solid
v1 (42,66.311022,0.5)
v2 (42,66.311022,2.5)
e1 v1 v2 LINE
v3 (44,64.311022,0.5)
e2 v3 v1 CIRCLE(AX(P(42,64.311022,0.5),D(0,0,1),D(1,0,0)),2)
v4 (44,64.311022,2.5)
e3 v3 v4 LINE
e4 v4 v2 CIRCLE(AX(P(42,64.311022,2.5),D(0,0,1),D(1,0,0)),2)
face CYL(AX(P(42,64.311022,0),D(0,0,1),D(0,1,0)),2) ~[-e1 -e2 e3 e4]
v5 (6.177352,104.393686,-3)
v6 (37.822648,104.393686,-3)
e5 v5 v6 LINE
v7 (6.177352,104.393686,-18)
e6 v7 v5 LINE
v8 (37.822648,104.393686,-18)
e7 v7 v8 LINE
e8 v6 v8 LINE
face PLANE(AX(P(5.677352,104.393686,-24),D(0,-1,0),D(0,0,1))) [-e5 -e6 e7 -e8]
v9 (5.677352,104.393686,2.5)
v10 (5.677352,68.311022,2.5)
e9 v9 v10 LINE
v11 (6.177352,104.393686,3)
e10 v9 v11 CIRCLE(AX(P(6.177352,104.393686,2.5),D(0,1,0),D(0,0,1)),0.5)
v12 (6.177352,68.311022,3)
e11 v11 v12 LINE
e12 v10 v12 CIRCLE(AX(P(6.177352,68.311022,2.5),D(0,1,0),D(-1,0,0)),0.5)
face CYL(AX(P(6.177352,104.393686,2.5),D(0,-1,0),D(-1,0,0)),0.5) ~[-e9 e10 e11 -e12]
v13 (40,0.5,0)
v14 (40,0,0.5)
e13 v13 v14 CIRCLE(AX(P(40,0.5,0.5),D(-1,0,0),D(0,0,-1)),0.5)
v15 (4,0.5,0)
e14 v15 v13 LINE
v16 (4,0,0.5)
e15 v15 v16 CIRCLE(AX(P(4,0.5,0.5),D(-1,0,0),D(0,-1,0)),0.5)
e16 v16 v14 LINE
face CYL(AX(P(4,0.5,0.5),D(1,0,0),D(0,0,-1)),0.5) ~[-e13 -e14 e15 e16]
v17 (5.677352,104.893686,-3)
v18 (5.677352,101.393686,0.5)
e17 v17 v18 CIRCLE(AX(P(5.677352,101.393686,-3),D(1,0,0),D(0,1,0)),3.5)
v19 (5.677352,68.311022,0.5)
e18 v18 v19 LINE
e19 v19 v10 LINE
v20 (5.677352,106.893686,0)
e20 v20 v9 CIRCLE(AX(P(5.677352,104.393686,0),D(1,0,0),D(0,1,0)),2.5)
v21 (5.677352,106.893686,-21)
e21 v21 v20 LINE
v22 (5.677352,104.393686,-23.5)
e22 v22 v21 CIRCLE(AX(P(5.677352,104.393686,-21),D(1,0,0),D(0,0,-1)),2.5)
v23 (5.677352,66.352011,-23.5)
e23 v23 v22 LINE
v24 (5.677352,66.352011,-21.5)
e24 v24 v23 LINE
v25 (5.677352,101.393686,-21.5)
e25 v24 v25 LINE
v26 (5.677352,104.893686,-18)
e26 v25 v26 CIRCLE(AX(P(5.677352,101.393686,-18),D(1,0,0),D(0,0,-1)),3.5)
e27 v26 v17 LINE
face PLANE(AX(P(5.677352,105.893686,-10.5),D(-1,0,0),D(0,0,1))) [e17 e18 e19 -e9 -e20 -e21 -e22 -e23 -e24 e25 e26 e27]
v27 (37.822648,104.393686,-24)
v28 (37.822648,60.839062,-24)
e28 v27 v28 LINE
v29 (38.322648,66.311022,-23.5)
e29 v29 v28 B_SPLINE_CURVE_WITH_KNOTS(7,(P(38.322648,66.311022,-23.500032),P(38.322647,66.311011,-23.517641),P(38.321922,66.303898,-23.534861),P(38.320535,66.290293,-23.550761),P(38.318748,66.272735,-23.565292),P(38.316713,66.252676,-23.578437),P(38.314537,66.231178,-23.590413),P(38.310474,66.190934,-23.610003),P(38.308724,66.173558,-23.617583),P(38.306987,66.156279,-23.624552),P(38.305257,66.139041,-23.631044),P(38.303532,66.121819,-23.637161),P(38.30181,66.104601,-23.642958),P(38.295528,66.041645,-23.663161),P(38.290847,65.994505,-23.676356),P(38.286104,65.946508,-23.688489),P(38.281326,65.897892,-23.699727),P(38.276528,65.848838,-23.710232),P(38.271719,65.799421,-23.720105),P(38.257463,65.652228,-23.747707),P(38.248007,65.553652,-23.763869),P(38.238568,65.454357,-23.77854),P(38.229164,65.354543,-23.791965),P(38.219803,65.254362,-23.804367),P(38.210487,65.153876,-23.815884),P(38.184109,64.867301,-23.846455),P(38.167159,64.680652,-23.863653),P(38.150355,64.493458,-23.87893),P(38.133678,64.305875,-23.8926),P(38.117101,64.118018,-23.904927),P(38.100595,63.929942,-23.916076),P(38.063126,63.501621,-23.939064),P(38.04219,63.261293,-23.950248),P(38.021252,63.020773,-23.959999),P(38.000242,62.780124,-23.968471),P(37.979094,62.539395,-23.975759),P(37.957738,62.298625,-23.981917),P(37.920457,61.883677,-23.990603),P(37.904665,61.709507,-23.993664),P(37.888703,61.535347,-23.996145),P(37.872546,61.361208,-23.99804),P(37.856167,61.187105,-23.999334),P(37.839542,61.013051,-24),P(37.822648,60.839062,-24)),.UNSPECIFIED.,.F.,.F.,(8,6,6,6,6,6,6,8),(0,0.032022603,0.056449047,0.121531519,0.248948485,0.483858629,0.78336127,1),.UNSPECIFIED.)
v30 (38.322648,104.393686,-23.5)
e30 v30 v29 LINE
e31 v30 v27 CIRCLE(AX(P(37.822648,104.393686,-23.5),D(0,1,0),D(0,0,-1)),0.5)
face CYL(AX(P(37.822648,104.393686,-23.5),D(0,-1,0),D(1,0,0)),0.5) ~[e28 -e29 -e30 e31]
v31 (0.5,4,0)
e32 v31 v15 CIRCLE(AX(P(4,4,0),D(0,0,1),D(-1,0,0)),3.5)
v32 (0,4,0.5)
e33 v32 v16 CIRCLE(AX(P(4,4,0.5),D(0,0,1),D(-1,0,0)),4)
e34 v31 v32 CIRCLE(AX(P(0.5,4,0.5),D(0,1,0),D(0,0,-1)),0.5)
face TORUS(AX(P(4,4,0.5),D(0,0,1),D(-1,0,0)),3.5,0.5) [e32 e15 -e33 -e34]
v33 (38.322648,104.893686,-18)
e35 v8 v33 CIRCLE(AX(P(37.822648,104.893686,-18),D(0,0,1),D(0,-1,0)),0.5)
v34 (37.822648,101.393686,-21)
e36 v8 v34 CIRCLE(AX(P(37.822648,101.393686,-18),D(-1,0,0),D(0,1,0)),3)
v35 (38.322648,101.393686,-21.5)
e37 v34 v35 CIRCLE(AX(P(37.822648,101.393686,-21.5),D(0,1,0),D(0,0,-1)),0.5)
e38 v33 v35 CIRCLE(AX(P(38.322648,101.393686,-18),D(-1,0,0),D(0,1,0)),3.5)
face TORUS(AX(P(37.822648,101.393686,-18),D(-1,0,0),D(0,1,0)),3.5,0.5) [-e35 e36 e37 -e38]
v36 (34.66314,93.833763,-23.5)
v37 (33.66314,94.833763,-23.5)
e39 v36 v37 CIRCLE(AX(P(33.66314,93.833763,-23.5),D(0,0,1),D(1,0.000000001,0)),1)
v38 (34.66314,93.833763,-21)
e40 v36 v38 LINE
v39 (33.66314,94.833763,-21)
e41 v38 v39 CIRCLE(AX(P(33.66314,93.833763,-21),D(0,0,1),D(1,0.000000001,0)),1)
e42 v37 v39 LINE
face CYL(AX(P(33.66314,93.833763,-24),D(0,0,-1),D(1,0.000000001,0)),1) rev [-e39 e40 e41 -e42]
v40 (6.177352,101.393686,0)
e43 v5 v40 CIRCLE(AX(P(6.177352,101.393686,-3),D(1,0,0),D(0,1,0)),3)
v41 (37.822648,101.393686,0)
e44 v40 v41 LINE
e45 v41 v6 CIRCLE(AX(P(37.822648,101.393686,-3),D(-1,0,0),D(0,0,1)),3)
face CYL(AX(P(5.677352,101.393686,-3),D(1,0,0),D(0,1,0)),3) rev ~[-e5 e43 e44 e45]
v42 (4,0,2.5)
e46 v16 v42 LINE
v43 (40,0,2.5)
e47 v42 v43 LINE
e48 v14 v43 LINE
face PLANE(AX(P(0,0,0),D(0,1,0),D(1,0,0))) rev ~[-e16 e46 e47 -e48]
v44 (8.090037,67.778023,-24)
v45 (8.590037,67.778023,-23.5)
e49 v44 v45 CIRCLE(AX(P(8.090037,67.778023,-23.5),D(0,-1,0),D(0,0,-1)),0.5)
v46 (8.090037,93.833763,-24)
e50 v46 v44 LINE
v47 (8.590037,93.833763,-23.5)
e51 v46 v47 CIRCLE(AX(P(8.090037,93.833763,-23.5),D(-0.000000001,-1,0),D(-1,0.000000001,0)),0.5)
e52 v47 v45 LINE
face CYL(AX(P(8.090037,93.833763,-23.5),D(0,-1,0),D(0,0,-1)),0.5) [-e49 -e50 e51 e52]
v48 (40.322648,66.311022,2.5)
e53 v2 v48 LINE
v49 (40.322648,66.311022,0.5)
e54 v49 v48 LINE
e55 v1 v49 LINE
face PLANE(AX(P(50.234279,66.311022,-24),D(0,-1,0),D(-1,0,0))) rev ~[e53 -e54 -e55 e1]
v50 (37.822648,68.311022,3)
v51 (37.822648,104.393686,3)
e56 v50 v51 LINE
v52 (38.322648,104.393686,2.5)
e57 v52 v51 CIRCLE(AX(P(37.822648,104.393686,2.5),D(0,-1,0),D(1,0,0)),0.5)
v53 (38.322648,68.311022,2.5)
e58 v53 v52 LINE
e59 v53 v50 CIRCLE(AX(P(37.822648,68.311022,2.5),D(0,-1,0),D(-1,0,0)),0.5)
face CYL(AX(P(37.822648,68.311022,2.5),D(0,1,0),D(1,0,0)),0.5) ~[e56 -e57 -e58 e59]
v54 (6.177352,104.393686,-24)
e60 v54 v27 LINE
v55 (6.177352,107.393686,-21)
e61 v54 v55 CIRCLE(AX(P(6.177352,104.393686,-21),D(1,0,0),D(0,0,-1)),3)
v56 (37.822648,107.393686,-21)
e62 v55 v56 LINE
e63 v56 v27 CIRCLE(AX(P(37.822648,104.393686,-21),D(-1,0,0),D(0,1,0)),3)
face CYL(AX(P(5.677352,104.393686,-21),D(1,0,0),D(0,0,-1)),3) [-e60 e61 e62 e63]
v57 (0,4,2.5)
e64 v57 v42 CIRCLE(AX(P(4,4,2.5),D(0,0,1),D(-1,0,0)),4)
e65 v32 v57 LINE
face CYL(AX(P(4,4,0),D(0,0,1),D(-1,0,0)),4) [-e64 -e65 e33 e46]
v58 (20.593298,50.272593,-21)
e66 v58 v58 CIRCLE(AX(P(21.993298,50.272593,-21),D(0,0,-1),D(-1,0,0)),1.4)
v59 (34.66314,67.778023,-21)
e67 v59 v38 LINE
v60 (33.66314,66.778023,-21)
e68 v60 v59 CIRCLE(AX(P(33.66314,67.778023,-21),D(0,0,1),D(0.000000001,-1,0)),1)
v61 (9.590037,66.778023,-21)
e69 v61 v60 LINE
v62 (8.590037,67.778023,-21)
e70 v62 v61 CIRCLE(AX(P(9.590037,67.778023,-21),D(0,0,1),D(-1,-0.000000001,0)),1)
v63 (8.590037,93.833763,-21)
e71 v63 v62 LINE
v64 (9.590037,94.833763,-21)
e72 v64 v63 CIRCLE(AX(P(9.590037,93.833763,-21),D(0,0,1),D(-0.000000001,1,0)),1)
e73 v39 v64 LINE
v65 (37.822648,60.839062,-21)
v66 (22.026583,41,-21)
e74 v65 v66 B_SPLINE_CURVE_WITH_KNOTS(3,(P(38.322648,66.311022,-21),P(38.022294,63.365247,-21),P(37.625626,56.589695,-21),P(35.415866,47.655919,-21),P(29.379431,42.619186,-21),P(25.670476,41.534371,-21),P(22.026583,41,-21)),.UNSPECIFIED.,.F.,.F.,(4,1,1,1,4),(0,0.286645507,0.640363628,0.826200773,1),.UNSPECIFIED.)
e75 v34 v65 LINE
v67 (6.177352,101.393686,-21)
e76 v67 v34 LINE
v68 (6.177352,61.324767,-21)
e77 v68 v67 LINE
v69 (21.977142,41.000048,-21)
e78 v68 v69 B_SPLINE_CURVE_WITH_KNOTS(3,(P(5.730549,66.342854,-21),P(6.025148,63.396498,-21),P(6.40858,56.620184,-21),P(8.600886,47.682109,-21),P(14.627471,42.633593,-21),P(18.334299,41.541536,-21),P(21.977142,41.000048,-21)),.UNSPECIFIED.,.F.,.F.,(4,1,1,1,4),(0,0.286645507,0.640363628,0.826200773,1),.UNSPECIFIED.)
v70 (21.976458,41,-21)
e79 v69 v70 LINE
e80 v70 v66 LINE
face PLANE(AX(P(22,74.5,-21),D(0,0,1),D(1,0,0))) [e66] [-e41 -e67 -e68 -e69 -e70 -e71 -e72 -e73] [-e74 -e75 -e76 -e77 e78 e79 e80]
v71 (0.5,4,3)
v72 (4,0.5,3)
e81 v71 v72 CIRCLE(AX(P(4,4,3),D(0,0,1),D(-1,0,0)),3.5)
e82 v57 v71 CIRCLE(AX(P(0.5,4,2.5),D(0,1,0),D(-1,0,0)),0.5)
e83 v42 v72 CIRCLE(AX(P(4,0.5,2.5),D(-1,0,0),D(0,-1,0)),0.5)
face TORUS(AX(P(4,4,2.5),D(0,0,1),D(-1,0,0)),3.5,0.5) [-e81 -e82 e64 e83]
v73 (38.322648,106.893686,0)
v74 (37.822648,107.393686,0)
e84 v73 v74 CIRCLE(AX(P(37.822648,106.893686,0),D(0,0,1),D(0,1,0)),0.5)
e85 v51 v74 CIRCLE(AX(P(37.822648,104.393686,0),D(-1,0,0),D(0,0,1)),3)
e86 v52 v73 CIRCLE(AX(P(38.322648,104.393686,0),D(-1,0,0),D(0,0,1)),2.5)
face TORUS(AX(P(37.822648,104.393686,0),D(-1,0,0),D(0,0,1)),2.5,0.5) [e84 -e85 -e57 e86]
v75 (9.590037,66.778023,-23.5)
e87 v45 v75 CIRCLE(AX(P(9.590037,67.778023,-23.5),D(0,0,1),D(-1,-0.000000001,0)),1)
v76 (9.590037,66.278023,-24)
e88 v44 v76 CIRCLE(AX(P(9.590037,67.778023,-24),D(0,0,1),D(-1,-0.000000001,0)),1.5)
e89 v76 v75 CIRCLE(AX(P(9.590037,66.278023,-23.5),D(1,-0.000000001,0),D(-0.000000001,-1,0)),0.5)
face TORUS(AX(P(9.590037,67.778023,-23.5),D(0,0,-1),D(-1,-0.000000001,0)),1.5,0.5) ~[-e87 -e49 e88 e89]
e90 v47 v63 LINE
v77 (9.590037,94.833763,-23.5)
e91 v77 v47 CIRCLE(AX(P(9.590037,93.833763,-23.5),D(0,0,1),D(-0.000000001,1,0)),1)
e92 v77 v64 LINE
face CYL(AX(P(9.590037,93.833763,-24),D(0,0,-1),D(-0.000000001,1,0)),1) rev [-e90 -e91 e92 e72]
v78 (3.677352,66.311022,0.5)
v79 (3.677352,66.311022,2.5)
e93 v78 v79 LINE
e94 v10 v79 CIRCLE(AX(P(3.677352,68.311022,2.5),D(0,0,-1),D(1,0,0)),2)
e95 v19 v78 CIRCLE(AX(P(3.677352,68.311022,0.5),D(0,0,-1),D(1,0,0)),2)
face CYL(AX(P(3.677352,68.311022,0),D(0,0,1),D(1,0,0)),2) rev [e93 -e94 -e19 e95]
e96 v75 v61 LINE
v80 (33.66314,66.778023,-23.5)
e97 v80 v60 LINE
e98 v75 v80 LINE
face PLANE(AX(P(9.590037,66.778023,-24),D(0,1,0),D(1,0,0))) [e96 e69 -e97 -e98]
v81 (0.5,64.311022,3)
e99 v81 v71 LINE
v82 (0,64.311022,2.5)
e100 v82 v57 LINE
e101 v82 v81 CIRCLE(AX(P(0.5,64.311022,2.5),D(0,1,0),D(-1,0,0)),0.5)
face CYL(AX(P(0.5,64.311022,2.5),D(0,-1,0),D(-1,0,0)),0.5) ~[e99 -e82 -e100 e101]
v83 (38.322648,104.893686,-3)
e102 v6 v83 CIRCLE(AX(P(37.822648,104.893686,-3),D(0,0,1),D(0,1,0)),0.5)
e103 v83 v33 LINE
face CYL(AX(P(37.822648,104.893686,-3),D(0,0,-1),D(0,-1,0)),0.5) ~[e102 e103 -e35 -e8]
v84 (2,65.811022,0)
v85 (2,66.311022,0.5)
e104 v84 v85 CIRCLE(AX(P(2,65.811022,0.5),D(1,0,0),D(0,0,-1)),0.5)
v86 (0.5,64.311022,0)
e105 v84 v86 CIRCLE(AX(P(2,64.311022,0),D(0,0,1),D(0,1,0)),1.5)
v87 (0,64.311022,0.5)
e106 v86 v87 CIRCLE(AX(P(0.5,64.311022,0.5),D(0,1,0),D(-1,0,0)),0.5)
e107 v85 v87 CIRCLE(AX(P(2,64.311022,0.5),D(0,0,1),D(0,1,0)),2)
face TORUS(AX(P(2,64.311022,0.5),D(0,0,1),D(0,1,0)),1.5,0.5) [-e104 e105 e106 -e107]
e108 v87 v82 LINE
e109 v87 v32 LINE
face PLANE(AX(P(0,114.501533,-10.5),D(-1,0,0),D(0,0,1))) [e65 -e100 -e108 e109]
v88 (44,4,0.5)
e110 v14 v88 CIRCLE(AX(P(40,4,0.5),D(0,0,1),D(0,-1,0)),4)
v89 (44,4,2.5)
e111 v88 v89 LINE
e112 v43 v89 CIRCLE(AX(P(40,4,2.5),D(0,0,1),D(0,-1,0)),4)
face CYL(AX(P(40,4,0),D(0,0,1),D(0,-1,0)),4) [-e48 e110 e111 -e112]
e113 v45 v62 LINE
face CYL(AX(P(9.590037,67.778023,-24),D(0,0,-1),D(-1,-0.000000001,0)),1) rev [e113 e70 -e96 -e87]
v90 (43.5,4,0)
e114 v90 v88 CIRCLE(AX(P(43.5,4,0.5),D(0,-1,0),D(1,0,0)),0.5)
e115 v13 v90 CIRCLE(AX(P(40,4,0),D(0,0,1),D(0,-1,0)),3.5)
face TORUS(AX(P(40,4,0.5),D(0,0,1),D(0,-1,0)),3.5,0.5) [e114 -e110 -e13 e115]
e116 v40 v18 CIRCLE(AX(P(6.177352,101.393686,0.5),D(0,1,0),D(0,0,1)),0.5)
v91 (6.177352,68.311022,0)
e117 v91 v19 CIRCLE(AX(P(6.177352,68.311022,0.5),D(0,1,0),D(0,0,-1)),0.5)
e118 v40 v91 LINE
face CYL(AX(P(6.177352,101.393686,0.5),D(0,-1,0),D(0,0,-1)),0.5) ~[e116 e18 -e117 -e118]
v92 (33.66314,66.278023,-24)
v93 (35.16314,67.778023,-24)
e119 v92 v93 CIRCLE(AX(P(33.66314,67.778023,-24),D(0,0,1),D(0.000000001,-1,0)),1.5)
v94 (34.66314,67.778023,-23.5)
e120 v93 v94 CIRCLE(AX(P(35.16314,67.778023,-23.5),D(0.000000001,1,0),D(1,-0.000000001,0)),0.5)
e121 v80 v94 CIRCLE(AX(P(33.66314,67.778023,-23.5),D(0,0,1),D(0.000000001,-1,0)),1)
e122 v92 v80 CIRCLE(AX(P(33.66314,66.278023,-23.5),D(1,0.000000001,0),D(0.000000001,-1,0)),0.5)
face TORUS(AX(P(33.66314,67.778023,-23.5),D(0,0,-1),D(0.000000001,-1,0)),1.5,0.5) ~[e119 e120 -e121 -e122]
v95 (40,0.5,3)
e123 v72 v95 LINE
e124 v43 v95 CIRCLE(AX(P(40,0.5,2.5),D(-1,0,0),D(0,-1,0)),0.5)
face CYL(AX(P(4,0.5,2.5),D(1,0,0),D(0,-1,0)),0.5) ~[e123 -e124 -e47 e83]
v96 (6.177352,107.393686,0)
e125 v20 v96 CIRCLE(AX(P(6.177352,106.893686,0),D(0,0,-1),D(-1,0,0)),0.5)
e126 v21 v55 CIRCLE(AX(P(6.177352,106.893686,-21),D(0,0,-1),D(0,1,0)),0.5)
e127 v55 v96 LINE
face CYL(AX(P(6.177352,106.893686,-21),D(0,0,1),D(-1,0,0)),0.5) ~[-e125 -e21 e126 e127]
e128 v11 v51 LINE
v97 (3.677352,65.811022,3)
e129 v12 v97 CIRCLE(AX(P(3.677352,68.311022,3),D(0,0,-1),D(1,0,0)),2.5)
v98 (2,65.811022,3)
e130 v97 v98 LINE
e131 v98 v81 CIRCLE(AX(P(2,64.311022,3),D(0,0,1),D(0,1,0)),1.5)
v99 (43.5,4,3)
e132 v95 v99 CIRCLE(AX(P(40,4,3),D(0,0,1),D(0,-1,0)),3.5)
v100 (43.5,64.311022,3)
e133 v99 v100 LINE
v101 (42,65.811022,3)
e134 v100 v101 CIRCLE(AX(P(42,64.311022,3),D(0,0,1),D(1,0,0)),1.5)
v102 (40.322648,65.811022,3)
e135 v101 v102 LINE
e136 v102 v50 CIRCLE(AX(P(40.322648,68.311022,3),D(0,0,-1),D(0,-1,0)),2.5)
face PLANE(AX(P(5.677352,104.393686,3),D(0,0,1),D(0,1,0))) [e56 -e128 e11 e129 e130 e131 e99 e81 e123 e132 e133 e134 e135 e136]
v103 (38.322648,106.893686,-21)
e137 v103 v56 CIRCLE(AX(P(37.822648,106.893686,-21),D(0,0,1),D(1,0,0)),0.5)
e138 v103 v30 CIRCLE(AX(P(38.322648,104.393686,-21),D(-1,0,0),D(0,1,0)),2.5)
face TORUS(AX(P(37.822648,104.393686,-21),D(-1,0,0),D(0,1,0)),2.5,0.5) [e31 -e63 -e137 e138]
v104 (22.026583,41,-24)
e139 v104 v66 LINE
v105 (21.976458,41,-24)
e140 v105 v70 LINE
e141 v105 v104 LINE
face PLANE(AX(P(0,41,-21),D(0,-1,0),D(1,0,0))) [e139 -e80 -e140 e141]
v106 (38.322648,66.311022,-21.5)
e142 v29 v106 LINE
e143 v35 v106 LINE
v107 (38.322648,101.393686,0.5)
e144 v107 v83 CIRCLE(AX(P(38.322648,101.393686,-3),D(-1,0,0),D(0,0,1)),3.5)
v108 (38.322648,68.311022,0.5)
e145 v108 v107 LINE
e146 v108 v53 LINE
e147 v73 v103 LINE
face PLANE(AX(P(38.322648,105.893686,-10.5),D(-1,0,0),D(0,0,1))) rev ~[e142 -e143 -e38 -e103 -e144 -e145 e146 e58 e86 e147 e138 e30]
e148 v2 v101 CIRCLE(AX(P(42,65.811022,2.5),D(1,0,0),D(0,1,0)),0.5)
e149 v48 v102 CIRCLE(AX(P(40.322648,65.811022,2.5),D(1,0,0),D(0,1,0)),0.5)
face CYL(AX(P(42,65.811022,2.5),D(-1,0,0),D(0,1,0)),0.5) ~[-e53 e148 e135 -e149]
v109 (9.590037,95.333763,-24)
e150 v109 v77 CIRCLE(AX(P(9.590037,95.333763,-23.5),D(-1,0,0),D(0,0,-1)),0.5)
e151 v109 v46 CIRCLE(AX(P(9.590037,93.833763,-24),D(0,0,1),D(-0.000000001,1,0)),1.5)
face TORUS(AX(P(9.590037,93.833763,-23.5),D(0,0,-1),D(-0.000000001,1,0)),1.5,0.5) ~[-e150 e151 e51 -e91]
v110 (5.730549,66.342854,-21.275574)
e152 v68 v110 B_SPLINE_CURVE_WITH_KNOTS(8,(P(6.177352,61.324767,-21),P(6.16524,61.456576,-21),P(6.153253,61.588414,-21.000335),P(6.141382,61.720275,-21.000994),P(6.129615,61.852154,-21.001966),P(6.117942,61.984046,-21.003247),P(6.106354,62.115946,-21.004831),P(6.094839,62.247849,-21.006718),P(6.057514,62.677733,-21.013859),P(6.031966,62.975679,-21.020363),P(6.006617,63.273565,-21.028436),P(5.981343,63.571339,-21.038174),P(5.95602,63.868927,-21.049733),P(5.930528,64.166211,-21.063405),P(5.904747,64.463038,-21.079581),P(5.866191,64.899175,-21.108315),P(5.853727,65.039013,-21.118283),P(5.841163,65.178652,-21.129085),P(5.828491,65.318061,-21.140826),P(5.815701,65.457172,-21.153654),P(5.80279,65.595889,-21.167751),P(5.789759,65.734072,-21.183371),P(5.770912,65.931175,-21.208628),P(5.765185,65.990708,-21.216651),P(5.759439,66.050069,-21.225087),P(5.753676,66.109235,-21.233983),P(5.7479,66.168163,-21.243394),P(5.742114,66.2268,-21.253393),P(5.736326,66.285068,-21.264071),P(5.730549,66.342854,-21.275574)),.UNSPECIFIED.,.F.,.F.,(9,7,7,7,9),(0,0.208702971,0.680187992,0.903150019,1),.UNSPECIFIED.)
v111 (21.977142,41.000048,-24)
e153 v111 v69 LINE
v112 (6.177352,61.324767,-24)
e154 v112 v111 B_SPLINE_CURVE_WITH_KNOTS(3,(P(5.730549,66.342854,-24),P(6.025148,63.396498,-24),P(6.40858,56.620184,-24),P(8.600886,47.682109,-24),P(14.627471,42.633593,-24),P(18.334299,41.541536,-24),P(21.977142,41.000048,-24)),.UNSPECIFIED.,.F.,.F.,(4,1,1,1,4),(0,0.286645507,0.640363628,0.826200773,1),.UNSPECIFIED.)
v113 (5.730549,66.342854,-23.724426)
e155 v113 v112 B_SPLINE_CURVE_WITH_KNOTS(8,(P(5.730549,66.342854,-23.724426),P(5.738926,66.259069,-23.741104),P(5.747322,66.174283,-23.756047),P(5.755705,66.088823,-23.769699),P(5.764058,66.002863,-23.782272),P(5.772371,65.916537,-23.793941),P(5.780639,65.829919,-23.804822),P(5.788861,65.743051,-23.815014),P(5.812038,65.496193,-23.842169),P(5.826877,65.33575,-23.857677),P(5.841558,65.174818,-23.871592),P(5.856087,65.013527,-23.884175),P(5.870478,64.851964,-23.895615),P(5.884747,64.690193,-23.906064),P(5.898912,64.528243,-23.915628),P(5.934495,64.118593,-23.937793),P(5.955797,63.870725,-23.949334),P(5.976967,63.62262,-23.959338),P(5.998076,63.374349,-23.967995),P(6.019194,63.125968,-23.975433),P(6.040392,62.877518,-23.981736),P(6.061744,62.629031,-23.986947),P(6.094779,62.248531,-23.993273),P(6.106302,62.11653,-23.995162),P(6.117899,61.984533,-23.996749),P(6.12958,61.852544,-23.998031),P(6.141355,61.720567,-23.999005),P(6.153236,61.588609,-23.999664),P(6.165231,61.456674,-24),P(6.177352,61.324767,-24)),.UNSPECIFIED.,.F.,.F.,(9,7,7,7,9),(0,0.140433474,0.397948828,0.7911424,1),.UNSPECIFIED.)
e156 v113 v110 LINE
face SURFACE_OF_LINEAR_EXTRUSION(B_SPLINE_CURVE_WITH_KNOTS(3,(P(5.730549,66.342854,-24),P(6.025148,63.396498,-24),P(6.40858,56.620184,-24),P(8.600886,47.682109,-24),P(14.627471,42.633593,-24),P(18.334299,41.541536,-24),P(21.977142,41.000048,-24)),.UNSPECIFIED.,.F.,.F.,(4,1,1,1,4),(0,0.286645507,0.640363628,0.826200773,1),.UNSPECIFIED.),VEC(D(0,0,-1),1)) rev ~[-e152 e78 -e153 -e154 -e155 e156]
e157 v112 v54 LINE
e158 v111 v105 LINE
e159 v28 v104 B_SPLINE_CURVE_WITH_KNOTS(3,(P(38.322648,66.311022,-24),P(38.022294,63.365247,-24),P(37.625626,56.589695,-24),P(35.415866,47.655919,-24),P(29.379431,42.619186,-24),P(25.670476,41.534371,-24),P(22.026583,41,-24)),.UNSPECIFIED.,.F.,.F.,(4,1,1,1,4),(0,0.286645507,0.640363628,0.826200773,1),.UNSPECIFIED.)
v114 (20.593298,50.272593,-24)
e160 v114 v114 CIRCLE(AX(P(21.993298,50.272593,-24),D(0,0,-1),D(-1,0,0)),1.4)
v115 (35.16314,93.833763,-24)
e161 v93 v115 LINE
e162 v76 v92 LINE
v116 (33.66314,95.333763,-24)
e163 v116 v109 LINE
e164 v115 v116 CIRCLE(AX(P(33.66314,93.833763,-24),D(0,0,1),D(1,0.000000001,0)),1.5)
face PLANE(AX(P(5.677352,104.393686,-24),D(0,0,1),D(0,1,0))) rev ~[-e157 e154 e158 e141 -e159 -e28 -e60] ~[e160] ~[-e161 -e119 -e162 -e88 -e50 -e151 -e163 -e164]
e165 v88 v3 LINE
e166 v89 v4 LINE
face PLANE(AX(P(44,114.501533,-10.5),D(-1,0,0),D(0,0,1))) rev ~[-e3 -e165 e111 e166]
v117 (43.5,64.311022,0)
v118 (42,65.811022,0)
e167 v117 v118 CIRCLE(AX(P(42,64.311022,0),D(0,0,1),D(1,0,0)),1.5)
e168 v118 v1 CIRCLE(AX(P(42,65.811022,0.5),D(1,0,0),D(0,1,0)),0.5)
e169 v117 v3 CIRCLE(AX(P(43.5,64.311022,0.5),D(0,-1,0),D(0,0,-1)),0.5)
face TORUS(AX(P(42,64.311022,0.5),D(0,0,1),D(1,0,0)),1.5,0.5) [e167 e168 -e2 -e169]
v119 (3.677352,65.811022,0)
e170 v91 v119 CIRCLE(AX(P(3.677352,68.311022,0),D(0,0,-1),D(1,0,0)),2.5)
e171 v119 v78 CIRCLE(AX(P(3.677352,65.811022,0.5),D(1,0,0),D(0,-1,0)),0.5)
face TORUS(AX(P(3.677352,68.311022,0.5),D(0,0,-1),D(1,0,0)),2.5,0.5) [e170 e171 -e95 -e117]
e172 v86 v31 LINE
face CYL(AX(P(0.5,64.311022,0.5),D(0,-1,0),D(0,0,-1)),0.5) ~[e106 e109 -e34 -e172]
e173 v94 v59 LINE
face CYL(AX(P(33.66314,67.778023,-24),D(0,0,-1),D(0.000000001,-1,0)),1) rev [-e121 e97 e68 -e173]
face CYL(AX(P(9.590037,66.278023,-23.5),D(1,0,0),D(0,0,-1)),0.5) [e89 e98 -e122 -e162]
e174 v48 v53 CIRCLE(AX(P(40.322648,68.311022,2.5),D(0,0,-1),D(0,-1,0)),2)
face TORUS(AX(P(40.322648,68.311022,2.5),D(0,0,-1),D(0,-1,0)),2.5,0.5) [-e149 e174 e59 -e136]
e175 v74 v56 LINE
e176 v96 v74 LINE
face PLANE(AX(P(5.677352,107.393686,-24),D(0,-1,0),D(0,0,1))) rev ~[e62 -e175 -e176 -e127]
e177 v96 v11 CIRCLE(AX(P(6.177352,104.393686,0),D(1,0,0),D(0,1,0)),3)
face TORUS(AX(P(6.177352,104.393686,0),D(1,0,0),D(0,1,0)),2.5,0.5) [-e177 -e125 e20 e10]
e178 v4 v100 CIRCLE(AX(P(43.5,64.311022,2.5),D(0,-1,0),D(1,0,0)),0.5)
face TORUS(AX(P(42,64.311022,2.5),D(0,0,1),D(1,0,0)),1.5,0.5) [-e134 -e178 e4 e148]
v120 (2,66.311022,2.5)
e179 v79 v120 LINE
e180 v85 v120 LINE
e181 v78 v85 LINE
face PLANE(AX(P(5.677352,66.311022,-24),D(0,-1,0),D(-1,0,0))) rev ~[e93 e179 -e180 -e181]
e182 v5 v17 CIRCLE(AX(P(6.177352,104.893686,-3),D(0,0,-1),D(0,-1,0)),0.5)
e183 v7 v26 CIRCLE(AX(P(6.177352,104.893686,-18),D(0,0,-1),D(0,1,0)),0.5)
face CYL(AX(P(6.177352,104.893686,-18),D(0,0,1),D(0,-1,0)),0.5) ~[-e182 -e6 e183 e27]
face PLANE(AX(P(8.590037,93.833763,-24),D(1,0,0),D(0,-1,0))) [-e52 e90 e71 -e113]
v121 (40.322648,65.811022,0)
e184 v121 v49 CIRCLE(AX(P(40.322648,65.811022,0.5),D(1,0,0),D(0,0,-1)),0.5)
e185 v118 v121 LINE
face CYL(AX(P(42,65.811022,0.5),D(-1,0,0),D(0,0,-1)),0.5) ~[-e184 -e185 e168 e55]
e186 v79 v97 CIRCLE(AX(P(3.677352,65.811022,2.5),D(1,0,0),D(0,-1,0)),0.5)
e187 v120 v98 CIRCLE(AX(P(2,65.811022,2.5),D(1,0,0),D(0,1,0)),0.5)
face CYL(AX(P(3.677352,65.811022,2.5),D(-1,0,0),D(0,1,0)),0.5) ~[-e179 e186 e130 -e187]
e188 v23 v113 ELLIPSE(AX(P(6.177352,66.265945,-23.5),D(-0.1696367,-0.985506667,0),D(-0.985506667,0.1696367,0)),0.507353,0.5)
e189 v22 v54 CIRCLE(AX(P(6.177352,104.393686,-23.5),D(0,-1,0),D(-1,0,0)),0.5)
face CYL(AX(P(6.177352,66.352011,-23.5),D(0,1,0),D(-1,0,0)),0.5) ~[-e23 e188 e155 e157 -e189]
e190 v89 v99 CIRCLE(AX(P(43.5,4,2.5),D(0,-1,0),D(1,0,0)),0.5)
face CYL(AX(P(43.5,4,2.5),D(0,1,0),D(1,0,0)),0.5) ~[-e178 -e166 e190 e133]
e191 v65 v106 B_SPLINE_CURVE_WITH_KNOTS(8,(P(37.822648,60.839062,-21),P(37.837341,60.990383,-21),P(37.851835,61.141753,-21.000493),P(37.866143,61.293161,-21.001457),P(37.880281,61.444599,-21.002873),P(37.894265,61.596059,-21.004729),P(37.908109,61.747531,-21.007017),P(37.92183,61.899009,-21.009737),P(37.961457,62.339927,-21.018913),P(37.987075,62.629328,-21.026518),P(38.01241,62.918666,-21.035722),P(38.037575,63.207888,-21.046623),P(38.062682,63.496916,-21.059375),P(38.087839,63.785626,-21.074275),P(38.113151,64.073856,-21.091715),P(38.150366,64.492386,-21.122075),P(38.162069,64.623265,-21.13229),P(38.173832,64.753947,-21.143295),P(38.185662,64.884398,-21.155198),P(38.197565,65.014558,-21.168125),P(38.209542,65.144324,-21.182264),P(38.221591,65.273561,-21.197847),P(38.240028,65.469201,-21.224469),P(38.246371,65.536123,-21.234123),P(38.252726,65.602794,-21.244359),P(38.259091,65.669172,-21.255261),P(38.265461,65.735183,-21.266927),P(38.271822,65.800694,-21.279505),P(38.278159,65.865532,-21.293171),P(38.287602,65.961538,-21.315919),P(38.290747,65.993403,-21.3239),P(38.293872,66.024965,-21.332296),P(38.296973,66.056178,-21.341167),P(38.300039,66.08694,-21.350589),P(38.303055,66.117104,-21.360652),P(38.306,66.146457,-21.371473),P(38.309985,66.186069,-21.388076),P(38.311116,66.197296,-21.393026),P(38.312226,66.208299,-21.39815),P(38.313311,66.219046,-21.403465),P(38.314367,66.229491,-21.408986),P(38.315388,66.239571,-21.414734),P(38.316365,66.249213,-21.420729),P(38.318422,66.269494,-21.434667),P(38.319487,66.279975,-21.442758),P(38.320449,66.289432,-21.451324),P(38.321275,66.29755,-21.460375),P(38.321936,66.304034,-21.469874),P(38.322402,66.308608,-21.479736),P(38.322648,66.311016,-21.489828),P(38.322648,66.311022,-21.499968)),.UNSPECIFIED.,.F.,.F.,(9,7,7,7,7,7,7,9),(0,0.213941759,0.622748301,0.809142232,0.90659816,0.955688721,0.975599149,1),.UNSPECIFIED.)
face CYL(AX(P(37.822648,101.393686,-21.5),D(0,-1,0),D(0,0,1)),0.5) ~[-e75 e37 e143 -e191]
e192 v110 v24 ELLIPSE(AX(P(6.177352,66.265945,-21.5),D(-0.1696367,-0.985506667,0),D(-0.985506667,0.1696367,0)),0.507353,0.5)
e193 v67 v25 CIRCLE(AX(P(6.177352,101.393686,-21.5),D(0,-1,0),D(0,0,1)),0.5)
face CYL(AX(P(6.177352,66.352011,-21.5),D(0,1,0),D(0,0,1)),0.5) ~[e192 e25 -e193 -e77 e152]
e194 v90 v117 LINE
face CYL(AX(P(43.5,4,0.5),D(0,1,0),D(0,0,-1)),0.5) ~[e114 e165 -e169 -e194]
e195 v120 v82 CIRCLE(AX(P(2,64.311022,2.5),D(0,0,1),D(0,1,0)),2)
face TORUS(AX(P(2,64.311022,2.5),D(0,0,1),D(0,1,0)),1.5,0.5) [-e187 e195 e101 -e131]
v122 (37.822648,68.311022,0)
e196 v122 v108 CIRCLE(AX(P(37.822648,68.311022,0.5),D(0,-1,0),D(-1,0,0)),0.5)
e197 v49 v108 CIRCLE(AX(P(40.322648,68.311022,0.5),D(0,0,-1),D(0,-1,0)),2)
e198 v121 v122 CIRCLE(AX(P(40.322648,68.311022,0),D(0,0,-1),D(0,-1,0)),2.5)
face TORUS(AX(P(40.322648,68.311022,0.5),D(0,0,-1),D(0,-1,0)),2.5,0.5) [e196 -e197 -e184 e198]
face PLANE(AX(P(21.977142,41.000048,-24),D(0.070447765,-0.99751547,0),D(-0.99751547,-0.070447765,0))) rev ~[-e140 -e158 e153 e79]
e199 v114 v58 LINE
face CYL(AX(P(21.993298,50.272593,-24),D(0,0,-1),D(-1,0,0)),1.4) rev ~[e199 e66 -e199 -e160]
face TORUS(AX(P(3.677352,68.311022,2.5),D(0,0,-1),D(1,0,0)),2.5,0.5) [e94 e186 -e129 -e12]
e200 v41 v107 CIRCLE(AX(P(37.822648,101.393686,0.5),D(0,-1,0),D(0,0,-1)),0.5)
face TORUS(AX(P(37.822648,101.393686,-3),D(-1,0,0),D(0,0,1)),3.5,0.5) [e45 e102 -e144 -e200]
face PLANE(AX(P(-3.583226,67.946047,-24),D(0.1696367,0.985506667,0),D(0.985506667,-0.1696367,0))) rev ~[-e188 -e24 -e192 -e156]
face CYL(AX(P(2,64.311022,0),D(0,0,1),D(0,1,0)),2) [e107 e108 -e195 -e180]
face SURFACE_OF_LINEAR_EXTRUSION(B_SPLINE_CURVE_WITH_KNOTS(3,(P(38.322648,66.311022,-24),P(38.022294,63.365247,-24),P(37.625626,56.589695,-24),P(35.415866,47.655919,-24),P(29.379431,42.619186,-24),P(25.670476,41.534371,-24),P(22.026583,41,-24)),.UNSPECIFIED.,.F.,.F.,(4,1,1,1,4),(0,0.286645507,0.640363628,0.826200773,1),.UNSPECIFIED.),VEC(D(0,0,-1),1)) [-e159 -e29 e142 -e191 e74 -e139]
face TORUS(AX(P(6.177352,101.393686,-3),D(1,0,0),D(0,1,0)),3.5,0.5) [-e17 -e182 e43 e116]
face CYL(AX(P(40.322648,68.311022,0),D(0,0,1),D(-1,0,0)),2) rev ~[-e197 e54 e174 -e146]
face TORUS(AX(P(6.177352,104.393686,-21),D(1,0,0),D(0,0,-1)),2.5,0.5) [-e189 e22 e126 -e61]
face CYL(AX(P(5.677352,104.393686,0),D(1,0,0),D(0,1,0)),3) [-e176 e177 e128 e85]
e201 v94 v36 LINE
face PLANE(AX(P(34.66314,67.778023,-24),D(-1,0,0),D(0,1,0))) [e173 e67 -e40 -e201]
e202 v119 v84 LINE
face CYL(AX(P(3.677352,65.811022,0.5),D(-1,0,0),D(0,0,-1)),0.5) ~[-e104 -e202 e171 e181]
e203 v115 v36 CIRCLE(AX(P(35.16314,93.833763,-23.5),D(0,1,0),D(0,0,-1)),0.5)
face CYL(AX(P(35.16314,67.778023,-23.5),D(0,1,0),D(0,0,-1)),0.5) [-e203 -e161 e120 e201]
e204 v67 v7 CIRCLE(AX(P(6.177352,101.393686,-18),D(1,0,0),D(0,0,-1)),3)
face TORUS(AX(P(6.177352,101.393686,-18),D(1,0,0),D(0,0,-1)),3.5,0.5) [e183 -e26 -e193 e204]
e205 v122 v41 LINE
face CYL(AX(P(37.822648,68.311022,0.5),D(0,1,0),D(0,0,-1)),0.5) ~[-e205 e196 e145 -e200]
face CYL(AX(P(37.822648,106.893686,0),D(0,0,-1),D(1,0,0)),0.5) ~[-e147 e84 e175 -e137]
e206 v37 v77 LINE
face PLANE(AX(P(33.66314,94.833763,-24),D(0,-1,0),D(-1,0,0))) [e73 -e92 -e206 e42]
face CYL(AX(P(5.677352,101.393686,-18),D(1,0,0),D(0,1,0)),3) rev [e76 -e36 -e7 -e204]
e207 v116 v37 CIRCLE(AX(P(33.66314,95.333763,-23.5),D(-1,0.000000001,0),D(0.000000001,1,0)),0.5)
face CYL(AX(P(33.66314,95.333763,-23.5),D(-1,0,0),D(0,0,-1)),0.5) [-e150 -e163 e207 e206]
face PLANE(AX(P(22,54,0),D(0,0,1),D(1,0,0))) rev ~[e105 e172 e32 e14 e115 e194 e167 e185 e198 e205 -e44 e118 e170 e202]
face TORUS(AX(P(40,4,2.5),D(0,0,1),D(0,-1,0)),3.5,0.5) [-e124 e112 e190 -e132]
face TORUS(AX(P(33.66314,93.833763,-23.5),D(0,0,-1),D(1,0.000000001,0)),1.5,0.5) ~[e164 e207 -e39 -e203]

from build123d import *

# Parameters (mm, degrees)
ESQUISSE1_W             = 44
ESQUISSE1_H             = 108
BOSS_EXTRU_1_DEPTH      = 3
CONG_1_R                = 4
ESQUISSE6_W             = 44
ESQUISSE6_H             = 67
BOSS_EXTRU_2_DEPTH      = 3
ENL_V_MAT_EXTRU_1_DEPTH = 3
ESQUISSE7_R             = 1.4
ENL_V_MAT_EXTRU_2_DEPTH = 3
CONG_3_R                = 0.5
BOSS_EXTRU_3_DEPTH      = 44
ESQUISSE10_W            = 11.911631127
ESQUISSE10_H            = 62.018049443
ENL_V_MAT_EXTRU_3_DEPTH = 133.012310032
ENL_V_MAT_EXTRU_4_DEPTH = 3
ESQUISSE12_W            = 27.791788001
ESQUISSE12_H            = 21.034079074
ENL_V_MAT_EXTRU_5_DEPTH = 130.641333574
ESQUISSE13_W            = 27
ESQUISSE13_H            = 3
BOSS_EXTRU_4_DEPTH      = 32.645296423
CONG_4_R                = 3
CONG_5_R                = 2
CONG_6_R                = 0.5
CONG_9_R                = 0.5


with BuildPart() as part:
    # Esquisse1 → Boss.-Extru.1 (new body)
    with BuildSketch(Plane.XY):
        with Locations((22, 54)):
            Rectangle(ESQUISSE1_W, ESQUISSE1_H)
    extrude(amount=BOSS_EXTRU_1_DEPTH)

    # Congé1
    cong_1_edges = [part.edges().sort_by_distance(p)[0] for p in [
        (44, 0, 1.5),
        (0, 0, 1.5),
    ]]
    fillet(cong_1_edges, radius=CONG_1_R)



with BuildPart() as body_2:
    # Esquisse6 → Boss.-Extru.2 (new body)
    with BuildSketch(Plane.XY.offset(-21)):
        with Locations((22, 74.5)):
            Rectangle(ESQUISSE6_W, ESQUISSE6_H)
    extrude(amount=-BOSS_EXTRU_2_DEPTH)

    # Esquisse8 → Enlèv. mat.-Extru.1 (cut)
    with BuildSketch(Plane(origin=(0, 0, -24), x_dir=(-1, 0, 0), z_dir=(0, 0, -1))):
        with BuildLine():
            Line((-33.663140202, 94.833763345), (-9.590037405, 94.833763345))
            ThreePointArc((-9.590037405, 94.833763345), (-8.882930624, 94.540870126), (-8.590037405, 93.833763345))
            Line((-8.590037405, 93.833763345), (-8.590037405, 67.778022742))
            ThreePointArc((-8.590037405, 67.778022742), (-8.882930624, 67.070915961), (-9.590037405, 66.778022742))
            Line((-9.590037405, 66.778022742), (-33.663140202, 66.778022742))
            ThreePointArc((-33.663140202, 66.778022742), (-34.370246983, 67.070915961), (-34.663140202, 67.778022742))
            Line((-34.663140202, 67.778022742), (-34.663140202, 93.833763345))
            ThreePointArc((-34.663140202, 93.833763345), (-34.370246983, 94.540870126), (-33.663140202, 94.833763345))
        make_face()
    extrude(amount=-ENL_V_MAT_EXTRU_1_DEPTH, mode=Mode.SUBTRACT)

    # Esquisse7 → Enlèv. mat.-Extru.2 (cut)
    with BuildSketch(Plane(origin=(0, 0, -24), x_dir=(-1, 0, 0), z_dir=(0, 0, -1))):
        with Locations((-21.993298095, 50.272593118)):
            Circle(ESQUISSE7_R)
    extrude(amount=-ENL_V_MAT_EXTRU_2_DEPTH, mode=Mode.SUBTRACT)

    # Congé3
    cong_3_edges = [body_2.edges().sort_by_distance(p)[0] for p in [
        (34.370246983, 67.070915961, -24),
        (21.626588803, 66.778022742, -24),
        (8.882930624, 67.070915961, -24),
        (8.590037405, 80.805893044, -24),
        (8.882930624, 94.540870126, -24),
        (21.626588803, 94.833763345, -24),
        (34.370246983, 94.540870126, -24),
        (34.663140202, 80.805893044, -24),
    ]]
    fillet(cong_3_edges, radius=CONG_3_R)


with BuildPart() as part_1:
    add(part.part)

    add(body_2.part)  # Boss.-Extru.3 merges body 2
    # Esquisse9 → Boss.-Extru.3 (add)
    with BuildSketch(Plane.ZY):
        with BuildLine():
            Line((-24, 108), (-21, 108))
            ThreePointArc((-21, 108), (-10.5, 118.52950804), (0, 108))
            Line((0, 108), (3, 108))
            ThreePointArc((3, 108), (-10.5, 121.5), (-24, 108))
        make_face()
    extrude(amount=-BOSS_EXTRU_3_DEPTH)

    # Esquisse10 → Enlèv. mat.-Extru.3 (cut, through all)
    with BuildSketch(Plane(origin=(0, 0, -24), x_dir=(-1, 0, 0), z_dir=(0, 0, -1))):
        with Locations((0.278463775, 97.320046546)):
            Rectangle(ESQUISSE10_W, ESQUISSE10_H)
        with Locations((-44.278463774, 97.320046546)):
            Rectangle(ESQUISSE10_W, ESQUISSE10_H)
    extrude(amount=-ENL_V_MAT_EXTRU_3_DEPTH, mode=Mode.SUBTRACT)

    # Esquisse11 → Enlèv. mat.-Extru.4 (cut)
    with BuildSketch(Plane(origin=(0, 0, -24), x_dir=(-1, 0, 0), z_dir=(0, 0, -1))):
        with BuildLine():
            Line((-22.026582868, 41), (-46.960282561, 39.190147629))
            Line((-46.960282561, 39.190147629), (-47.639536728, 67.896019345))
            Line((-47.639536728, 67.896019345), (-38.322648211, 66.311021824))
            add(Edge.make_bspline(
                [(-38.322648211, 66.311021824), (-38.022294445, 63.365247316), (-37.625626057, 56.5896954), (-35.415865813, 47.655918994), (-29.37943083, 42.619185596), (-25.670476457, 41.534371038), (-22.026582868, 41)],
                knots=[0, 0, 0, 0, 0.286645507, 0.640363628, 0.826200773, 1, 1, 1, 1], degree=3))
        make_face()
        with BuildLine():
            Line((3.583226076, 67.946047322), (-5.730548614, 66.342853704))
            add(Edge.make_bspline(
                [(-5.730548614, 66.342853704), (-6.025147686, 63.39649812), (-6.40858031, 56.620184299), (-8.600885567, 47.682108507), (-14.627470543, 42.633593462), (-18.334298821, 41.541536097), (-21.977141646, 41.000048288)],
                knots=[0, 0, 0, 0, 0.286645507, 0.640363628, 0.826200773, 1, 1, 1, 1], degree=3))
            Line((-21.977141646, 41.000048288), (2.96004575, 39.238903551))
            Line((2.96004575, 39.238903551), (3.583226076, 67.946047322))
        make_face()
    extrude(amount=-ENL_V_MAT_EXTRU_4_DEPTH, mode=Mode.SUBTRACT)

    # Esquisse12 → Enlèv. mat.-Extru.5 (cut, through all)
    with BuildSketch(Plane.ZY.offset(-5.677351789)):
        with Locations((-10.104105999, 114.910725646)):
            Rectangle(ESQUISSE12_W, ESQUISSE12_H)
    extrude(amount=-ENL_V_MAT_EXTRU_5_DEPTH, mode=Mode.SUBTRACT)


with BuildPart() as enl_v_mat_extru_5_piece_1:
    # of the separate pieces the step leaves, piece 1, a body of its own (enl_v_mat_extru_5_pieces)
    add(part_1.part.solids().sort_by_distance((38.322648211, 104.393686109, 3))[0])



with BuildPart() as enl_v_mat_extru_5_piece_2:
    # of the separate pieces the step leaves, piece 2, a body of its own (enl_v_mat_extru_5_pieces)
    add(part_1.part.solids().sort_by_distance((5.677351789, 66.352010551, -24))[0])


with BuildPart() as enl_v_mat_extru_5_piece_1_1:
    add(enl_v_mat_extru_5_piece_1.part)

    add(enl_v_mat_extru_5_piece_2.part)  # Boss.-Extru.4 merges Enlèv. mat.-Extru.5 piece 2
    # Esquisse13 → Boss.-Extru.4 (add)
    with BuildSketch(Plane.ZY.offset(-5.677351789)):
        with Locations((-10.5, 105.893686109)):
            Rectangle(ESQUISSE13_W, ESQUISSE13_H)
    extrude(amount=-BOSS_EXTRU_4_DEPTH)

    # Congé4
    cong_4_edges = [enl_v_mat_extru_5_piece_1_1.edges().sort_by_distance(p)[0] for p in [
        (22, 107.393686109, -24),
        (22, 107.393686109, 3),
        (22, 104.393686109, -21),
        (22, 104.393686109, 0),
    ]]
    fillet(cong_4_edges, radius=CONG_4_R)

    # Congé5
    cong_5_edges = [enl_v_mat_extru_5_piece_1_1.edges().sort_by_distance(p)[0] for p in [
        (0, 66.311021824, 1.5),
        (44, 66.311021824, 1.5),
        (38.322648211, 66.311021824, 1.5),
        (5.677351789, 66.311021824, 1.5),
    ]]
    fillet(cong_5_edges, radius=CONG_5_R)

    # Congé6
    cong_6_edges = [enl_v_mat_extru_5_piece_1_1.edges().sort_by_distance(p)[0] for p in [
        (5.677351789, 85.37284833, -24),
        (5.677351789, 106.515006452, -23.121320344),
        (38.322648212, 107.393686109, -10.5),
        (5.677351789, 107.393686109, -10.5),
        (5.677351789, 106.515006452, 2.121320344),
        (5.677351789, 86.352353966, 3),
        (5.091565351, 66.896808262, 3),
        (2.838675894, 66.311021824, 3),
        (0.585786438, 65.725235386, 3),
        (0, 34.155510912, 3),
        (1.171572875, 1.171572875, 3),
        (22, 0, 3),
        (42.828427125, 1.171572875, 3),
        (44, 34.155510912, 3),
        (43.414213562, 65.725235386, 3),
        (41.161324106, 66.311021824, 3),
        (38.908434649, 66.896808262, 3),
        (38.322648211, 86.352353966, 3),
        (38.322648211, 106.515006452, 2.121320344),
        (38.322648211, 106.515006452, -23.121320344),
        (38.322648211, 85.352353966, -24),
    ]]
    fillet(cong_6_edges, radius=CONG_6_R)

    # Congé9
    cong_9_edges = [enl_v_mat_extru_5_piece_1_1.edges().sort_by_distance(p)[0] for p in [
        (38.322648211, 83.852353966, -21),
        (38.322648211, 103.515006452, -20.121320344),
        (38.322648212, 104.393686109, -10.5),
        (5.677351789, 104.393686109, -10.5),
        (38.322648211, 103.515006452, -0.878679656),
        (38.322648211, 84.852353966, 0),
        (5.677351789, 83.87284833, -21),
        (5.677351789, 103.515006452, -20.121320344),
        (5.677351789, 103.515006452, -0.878679656),
        (5.677351789, 84.852353966, 0),
        (5.091565351, 66.896808262, 0),
        (2.838675894, 66.311021824, 0),
        (0.585786438, 65.725235386, 0),
        (0, 34.155510912, 0),
        (1.171572875, 1.171572875, 0),
        (22, 0, 0),
        (42.828427125, 1.171572875, 0),
        (44, 34.155510912, 0),
        (43.414213562, 65.725235386, 0),
        (41.161324106, 66.311021824, 0),
        (38.908434649, 66.896808262, 0),
    ]]
    fillet(cong_9_edges, radius=CONG_9_R)


solid = enl_v_mat_extru_5_piece_1_1.part
